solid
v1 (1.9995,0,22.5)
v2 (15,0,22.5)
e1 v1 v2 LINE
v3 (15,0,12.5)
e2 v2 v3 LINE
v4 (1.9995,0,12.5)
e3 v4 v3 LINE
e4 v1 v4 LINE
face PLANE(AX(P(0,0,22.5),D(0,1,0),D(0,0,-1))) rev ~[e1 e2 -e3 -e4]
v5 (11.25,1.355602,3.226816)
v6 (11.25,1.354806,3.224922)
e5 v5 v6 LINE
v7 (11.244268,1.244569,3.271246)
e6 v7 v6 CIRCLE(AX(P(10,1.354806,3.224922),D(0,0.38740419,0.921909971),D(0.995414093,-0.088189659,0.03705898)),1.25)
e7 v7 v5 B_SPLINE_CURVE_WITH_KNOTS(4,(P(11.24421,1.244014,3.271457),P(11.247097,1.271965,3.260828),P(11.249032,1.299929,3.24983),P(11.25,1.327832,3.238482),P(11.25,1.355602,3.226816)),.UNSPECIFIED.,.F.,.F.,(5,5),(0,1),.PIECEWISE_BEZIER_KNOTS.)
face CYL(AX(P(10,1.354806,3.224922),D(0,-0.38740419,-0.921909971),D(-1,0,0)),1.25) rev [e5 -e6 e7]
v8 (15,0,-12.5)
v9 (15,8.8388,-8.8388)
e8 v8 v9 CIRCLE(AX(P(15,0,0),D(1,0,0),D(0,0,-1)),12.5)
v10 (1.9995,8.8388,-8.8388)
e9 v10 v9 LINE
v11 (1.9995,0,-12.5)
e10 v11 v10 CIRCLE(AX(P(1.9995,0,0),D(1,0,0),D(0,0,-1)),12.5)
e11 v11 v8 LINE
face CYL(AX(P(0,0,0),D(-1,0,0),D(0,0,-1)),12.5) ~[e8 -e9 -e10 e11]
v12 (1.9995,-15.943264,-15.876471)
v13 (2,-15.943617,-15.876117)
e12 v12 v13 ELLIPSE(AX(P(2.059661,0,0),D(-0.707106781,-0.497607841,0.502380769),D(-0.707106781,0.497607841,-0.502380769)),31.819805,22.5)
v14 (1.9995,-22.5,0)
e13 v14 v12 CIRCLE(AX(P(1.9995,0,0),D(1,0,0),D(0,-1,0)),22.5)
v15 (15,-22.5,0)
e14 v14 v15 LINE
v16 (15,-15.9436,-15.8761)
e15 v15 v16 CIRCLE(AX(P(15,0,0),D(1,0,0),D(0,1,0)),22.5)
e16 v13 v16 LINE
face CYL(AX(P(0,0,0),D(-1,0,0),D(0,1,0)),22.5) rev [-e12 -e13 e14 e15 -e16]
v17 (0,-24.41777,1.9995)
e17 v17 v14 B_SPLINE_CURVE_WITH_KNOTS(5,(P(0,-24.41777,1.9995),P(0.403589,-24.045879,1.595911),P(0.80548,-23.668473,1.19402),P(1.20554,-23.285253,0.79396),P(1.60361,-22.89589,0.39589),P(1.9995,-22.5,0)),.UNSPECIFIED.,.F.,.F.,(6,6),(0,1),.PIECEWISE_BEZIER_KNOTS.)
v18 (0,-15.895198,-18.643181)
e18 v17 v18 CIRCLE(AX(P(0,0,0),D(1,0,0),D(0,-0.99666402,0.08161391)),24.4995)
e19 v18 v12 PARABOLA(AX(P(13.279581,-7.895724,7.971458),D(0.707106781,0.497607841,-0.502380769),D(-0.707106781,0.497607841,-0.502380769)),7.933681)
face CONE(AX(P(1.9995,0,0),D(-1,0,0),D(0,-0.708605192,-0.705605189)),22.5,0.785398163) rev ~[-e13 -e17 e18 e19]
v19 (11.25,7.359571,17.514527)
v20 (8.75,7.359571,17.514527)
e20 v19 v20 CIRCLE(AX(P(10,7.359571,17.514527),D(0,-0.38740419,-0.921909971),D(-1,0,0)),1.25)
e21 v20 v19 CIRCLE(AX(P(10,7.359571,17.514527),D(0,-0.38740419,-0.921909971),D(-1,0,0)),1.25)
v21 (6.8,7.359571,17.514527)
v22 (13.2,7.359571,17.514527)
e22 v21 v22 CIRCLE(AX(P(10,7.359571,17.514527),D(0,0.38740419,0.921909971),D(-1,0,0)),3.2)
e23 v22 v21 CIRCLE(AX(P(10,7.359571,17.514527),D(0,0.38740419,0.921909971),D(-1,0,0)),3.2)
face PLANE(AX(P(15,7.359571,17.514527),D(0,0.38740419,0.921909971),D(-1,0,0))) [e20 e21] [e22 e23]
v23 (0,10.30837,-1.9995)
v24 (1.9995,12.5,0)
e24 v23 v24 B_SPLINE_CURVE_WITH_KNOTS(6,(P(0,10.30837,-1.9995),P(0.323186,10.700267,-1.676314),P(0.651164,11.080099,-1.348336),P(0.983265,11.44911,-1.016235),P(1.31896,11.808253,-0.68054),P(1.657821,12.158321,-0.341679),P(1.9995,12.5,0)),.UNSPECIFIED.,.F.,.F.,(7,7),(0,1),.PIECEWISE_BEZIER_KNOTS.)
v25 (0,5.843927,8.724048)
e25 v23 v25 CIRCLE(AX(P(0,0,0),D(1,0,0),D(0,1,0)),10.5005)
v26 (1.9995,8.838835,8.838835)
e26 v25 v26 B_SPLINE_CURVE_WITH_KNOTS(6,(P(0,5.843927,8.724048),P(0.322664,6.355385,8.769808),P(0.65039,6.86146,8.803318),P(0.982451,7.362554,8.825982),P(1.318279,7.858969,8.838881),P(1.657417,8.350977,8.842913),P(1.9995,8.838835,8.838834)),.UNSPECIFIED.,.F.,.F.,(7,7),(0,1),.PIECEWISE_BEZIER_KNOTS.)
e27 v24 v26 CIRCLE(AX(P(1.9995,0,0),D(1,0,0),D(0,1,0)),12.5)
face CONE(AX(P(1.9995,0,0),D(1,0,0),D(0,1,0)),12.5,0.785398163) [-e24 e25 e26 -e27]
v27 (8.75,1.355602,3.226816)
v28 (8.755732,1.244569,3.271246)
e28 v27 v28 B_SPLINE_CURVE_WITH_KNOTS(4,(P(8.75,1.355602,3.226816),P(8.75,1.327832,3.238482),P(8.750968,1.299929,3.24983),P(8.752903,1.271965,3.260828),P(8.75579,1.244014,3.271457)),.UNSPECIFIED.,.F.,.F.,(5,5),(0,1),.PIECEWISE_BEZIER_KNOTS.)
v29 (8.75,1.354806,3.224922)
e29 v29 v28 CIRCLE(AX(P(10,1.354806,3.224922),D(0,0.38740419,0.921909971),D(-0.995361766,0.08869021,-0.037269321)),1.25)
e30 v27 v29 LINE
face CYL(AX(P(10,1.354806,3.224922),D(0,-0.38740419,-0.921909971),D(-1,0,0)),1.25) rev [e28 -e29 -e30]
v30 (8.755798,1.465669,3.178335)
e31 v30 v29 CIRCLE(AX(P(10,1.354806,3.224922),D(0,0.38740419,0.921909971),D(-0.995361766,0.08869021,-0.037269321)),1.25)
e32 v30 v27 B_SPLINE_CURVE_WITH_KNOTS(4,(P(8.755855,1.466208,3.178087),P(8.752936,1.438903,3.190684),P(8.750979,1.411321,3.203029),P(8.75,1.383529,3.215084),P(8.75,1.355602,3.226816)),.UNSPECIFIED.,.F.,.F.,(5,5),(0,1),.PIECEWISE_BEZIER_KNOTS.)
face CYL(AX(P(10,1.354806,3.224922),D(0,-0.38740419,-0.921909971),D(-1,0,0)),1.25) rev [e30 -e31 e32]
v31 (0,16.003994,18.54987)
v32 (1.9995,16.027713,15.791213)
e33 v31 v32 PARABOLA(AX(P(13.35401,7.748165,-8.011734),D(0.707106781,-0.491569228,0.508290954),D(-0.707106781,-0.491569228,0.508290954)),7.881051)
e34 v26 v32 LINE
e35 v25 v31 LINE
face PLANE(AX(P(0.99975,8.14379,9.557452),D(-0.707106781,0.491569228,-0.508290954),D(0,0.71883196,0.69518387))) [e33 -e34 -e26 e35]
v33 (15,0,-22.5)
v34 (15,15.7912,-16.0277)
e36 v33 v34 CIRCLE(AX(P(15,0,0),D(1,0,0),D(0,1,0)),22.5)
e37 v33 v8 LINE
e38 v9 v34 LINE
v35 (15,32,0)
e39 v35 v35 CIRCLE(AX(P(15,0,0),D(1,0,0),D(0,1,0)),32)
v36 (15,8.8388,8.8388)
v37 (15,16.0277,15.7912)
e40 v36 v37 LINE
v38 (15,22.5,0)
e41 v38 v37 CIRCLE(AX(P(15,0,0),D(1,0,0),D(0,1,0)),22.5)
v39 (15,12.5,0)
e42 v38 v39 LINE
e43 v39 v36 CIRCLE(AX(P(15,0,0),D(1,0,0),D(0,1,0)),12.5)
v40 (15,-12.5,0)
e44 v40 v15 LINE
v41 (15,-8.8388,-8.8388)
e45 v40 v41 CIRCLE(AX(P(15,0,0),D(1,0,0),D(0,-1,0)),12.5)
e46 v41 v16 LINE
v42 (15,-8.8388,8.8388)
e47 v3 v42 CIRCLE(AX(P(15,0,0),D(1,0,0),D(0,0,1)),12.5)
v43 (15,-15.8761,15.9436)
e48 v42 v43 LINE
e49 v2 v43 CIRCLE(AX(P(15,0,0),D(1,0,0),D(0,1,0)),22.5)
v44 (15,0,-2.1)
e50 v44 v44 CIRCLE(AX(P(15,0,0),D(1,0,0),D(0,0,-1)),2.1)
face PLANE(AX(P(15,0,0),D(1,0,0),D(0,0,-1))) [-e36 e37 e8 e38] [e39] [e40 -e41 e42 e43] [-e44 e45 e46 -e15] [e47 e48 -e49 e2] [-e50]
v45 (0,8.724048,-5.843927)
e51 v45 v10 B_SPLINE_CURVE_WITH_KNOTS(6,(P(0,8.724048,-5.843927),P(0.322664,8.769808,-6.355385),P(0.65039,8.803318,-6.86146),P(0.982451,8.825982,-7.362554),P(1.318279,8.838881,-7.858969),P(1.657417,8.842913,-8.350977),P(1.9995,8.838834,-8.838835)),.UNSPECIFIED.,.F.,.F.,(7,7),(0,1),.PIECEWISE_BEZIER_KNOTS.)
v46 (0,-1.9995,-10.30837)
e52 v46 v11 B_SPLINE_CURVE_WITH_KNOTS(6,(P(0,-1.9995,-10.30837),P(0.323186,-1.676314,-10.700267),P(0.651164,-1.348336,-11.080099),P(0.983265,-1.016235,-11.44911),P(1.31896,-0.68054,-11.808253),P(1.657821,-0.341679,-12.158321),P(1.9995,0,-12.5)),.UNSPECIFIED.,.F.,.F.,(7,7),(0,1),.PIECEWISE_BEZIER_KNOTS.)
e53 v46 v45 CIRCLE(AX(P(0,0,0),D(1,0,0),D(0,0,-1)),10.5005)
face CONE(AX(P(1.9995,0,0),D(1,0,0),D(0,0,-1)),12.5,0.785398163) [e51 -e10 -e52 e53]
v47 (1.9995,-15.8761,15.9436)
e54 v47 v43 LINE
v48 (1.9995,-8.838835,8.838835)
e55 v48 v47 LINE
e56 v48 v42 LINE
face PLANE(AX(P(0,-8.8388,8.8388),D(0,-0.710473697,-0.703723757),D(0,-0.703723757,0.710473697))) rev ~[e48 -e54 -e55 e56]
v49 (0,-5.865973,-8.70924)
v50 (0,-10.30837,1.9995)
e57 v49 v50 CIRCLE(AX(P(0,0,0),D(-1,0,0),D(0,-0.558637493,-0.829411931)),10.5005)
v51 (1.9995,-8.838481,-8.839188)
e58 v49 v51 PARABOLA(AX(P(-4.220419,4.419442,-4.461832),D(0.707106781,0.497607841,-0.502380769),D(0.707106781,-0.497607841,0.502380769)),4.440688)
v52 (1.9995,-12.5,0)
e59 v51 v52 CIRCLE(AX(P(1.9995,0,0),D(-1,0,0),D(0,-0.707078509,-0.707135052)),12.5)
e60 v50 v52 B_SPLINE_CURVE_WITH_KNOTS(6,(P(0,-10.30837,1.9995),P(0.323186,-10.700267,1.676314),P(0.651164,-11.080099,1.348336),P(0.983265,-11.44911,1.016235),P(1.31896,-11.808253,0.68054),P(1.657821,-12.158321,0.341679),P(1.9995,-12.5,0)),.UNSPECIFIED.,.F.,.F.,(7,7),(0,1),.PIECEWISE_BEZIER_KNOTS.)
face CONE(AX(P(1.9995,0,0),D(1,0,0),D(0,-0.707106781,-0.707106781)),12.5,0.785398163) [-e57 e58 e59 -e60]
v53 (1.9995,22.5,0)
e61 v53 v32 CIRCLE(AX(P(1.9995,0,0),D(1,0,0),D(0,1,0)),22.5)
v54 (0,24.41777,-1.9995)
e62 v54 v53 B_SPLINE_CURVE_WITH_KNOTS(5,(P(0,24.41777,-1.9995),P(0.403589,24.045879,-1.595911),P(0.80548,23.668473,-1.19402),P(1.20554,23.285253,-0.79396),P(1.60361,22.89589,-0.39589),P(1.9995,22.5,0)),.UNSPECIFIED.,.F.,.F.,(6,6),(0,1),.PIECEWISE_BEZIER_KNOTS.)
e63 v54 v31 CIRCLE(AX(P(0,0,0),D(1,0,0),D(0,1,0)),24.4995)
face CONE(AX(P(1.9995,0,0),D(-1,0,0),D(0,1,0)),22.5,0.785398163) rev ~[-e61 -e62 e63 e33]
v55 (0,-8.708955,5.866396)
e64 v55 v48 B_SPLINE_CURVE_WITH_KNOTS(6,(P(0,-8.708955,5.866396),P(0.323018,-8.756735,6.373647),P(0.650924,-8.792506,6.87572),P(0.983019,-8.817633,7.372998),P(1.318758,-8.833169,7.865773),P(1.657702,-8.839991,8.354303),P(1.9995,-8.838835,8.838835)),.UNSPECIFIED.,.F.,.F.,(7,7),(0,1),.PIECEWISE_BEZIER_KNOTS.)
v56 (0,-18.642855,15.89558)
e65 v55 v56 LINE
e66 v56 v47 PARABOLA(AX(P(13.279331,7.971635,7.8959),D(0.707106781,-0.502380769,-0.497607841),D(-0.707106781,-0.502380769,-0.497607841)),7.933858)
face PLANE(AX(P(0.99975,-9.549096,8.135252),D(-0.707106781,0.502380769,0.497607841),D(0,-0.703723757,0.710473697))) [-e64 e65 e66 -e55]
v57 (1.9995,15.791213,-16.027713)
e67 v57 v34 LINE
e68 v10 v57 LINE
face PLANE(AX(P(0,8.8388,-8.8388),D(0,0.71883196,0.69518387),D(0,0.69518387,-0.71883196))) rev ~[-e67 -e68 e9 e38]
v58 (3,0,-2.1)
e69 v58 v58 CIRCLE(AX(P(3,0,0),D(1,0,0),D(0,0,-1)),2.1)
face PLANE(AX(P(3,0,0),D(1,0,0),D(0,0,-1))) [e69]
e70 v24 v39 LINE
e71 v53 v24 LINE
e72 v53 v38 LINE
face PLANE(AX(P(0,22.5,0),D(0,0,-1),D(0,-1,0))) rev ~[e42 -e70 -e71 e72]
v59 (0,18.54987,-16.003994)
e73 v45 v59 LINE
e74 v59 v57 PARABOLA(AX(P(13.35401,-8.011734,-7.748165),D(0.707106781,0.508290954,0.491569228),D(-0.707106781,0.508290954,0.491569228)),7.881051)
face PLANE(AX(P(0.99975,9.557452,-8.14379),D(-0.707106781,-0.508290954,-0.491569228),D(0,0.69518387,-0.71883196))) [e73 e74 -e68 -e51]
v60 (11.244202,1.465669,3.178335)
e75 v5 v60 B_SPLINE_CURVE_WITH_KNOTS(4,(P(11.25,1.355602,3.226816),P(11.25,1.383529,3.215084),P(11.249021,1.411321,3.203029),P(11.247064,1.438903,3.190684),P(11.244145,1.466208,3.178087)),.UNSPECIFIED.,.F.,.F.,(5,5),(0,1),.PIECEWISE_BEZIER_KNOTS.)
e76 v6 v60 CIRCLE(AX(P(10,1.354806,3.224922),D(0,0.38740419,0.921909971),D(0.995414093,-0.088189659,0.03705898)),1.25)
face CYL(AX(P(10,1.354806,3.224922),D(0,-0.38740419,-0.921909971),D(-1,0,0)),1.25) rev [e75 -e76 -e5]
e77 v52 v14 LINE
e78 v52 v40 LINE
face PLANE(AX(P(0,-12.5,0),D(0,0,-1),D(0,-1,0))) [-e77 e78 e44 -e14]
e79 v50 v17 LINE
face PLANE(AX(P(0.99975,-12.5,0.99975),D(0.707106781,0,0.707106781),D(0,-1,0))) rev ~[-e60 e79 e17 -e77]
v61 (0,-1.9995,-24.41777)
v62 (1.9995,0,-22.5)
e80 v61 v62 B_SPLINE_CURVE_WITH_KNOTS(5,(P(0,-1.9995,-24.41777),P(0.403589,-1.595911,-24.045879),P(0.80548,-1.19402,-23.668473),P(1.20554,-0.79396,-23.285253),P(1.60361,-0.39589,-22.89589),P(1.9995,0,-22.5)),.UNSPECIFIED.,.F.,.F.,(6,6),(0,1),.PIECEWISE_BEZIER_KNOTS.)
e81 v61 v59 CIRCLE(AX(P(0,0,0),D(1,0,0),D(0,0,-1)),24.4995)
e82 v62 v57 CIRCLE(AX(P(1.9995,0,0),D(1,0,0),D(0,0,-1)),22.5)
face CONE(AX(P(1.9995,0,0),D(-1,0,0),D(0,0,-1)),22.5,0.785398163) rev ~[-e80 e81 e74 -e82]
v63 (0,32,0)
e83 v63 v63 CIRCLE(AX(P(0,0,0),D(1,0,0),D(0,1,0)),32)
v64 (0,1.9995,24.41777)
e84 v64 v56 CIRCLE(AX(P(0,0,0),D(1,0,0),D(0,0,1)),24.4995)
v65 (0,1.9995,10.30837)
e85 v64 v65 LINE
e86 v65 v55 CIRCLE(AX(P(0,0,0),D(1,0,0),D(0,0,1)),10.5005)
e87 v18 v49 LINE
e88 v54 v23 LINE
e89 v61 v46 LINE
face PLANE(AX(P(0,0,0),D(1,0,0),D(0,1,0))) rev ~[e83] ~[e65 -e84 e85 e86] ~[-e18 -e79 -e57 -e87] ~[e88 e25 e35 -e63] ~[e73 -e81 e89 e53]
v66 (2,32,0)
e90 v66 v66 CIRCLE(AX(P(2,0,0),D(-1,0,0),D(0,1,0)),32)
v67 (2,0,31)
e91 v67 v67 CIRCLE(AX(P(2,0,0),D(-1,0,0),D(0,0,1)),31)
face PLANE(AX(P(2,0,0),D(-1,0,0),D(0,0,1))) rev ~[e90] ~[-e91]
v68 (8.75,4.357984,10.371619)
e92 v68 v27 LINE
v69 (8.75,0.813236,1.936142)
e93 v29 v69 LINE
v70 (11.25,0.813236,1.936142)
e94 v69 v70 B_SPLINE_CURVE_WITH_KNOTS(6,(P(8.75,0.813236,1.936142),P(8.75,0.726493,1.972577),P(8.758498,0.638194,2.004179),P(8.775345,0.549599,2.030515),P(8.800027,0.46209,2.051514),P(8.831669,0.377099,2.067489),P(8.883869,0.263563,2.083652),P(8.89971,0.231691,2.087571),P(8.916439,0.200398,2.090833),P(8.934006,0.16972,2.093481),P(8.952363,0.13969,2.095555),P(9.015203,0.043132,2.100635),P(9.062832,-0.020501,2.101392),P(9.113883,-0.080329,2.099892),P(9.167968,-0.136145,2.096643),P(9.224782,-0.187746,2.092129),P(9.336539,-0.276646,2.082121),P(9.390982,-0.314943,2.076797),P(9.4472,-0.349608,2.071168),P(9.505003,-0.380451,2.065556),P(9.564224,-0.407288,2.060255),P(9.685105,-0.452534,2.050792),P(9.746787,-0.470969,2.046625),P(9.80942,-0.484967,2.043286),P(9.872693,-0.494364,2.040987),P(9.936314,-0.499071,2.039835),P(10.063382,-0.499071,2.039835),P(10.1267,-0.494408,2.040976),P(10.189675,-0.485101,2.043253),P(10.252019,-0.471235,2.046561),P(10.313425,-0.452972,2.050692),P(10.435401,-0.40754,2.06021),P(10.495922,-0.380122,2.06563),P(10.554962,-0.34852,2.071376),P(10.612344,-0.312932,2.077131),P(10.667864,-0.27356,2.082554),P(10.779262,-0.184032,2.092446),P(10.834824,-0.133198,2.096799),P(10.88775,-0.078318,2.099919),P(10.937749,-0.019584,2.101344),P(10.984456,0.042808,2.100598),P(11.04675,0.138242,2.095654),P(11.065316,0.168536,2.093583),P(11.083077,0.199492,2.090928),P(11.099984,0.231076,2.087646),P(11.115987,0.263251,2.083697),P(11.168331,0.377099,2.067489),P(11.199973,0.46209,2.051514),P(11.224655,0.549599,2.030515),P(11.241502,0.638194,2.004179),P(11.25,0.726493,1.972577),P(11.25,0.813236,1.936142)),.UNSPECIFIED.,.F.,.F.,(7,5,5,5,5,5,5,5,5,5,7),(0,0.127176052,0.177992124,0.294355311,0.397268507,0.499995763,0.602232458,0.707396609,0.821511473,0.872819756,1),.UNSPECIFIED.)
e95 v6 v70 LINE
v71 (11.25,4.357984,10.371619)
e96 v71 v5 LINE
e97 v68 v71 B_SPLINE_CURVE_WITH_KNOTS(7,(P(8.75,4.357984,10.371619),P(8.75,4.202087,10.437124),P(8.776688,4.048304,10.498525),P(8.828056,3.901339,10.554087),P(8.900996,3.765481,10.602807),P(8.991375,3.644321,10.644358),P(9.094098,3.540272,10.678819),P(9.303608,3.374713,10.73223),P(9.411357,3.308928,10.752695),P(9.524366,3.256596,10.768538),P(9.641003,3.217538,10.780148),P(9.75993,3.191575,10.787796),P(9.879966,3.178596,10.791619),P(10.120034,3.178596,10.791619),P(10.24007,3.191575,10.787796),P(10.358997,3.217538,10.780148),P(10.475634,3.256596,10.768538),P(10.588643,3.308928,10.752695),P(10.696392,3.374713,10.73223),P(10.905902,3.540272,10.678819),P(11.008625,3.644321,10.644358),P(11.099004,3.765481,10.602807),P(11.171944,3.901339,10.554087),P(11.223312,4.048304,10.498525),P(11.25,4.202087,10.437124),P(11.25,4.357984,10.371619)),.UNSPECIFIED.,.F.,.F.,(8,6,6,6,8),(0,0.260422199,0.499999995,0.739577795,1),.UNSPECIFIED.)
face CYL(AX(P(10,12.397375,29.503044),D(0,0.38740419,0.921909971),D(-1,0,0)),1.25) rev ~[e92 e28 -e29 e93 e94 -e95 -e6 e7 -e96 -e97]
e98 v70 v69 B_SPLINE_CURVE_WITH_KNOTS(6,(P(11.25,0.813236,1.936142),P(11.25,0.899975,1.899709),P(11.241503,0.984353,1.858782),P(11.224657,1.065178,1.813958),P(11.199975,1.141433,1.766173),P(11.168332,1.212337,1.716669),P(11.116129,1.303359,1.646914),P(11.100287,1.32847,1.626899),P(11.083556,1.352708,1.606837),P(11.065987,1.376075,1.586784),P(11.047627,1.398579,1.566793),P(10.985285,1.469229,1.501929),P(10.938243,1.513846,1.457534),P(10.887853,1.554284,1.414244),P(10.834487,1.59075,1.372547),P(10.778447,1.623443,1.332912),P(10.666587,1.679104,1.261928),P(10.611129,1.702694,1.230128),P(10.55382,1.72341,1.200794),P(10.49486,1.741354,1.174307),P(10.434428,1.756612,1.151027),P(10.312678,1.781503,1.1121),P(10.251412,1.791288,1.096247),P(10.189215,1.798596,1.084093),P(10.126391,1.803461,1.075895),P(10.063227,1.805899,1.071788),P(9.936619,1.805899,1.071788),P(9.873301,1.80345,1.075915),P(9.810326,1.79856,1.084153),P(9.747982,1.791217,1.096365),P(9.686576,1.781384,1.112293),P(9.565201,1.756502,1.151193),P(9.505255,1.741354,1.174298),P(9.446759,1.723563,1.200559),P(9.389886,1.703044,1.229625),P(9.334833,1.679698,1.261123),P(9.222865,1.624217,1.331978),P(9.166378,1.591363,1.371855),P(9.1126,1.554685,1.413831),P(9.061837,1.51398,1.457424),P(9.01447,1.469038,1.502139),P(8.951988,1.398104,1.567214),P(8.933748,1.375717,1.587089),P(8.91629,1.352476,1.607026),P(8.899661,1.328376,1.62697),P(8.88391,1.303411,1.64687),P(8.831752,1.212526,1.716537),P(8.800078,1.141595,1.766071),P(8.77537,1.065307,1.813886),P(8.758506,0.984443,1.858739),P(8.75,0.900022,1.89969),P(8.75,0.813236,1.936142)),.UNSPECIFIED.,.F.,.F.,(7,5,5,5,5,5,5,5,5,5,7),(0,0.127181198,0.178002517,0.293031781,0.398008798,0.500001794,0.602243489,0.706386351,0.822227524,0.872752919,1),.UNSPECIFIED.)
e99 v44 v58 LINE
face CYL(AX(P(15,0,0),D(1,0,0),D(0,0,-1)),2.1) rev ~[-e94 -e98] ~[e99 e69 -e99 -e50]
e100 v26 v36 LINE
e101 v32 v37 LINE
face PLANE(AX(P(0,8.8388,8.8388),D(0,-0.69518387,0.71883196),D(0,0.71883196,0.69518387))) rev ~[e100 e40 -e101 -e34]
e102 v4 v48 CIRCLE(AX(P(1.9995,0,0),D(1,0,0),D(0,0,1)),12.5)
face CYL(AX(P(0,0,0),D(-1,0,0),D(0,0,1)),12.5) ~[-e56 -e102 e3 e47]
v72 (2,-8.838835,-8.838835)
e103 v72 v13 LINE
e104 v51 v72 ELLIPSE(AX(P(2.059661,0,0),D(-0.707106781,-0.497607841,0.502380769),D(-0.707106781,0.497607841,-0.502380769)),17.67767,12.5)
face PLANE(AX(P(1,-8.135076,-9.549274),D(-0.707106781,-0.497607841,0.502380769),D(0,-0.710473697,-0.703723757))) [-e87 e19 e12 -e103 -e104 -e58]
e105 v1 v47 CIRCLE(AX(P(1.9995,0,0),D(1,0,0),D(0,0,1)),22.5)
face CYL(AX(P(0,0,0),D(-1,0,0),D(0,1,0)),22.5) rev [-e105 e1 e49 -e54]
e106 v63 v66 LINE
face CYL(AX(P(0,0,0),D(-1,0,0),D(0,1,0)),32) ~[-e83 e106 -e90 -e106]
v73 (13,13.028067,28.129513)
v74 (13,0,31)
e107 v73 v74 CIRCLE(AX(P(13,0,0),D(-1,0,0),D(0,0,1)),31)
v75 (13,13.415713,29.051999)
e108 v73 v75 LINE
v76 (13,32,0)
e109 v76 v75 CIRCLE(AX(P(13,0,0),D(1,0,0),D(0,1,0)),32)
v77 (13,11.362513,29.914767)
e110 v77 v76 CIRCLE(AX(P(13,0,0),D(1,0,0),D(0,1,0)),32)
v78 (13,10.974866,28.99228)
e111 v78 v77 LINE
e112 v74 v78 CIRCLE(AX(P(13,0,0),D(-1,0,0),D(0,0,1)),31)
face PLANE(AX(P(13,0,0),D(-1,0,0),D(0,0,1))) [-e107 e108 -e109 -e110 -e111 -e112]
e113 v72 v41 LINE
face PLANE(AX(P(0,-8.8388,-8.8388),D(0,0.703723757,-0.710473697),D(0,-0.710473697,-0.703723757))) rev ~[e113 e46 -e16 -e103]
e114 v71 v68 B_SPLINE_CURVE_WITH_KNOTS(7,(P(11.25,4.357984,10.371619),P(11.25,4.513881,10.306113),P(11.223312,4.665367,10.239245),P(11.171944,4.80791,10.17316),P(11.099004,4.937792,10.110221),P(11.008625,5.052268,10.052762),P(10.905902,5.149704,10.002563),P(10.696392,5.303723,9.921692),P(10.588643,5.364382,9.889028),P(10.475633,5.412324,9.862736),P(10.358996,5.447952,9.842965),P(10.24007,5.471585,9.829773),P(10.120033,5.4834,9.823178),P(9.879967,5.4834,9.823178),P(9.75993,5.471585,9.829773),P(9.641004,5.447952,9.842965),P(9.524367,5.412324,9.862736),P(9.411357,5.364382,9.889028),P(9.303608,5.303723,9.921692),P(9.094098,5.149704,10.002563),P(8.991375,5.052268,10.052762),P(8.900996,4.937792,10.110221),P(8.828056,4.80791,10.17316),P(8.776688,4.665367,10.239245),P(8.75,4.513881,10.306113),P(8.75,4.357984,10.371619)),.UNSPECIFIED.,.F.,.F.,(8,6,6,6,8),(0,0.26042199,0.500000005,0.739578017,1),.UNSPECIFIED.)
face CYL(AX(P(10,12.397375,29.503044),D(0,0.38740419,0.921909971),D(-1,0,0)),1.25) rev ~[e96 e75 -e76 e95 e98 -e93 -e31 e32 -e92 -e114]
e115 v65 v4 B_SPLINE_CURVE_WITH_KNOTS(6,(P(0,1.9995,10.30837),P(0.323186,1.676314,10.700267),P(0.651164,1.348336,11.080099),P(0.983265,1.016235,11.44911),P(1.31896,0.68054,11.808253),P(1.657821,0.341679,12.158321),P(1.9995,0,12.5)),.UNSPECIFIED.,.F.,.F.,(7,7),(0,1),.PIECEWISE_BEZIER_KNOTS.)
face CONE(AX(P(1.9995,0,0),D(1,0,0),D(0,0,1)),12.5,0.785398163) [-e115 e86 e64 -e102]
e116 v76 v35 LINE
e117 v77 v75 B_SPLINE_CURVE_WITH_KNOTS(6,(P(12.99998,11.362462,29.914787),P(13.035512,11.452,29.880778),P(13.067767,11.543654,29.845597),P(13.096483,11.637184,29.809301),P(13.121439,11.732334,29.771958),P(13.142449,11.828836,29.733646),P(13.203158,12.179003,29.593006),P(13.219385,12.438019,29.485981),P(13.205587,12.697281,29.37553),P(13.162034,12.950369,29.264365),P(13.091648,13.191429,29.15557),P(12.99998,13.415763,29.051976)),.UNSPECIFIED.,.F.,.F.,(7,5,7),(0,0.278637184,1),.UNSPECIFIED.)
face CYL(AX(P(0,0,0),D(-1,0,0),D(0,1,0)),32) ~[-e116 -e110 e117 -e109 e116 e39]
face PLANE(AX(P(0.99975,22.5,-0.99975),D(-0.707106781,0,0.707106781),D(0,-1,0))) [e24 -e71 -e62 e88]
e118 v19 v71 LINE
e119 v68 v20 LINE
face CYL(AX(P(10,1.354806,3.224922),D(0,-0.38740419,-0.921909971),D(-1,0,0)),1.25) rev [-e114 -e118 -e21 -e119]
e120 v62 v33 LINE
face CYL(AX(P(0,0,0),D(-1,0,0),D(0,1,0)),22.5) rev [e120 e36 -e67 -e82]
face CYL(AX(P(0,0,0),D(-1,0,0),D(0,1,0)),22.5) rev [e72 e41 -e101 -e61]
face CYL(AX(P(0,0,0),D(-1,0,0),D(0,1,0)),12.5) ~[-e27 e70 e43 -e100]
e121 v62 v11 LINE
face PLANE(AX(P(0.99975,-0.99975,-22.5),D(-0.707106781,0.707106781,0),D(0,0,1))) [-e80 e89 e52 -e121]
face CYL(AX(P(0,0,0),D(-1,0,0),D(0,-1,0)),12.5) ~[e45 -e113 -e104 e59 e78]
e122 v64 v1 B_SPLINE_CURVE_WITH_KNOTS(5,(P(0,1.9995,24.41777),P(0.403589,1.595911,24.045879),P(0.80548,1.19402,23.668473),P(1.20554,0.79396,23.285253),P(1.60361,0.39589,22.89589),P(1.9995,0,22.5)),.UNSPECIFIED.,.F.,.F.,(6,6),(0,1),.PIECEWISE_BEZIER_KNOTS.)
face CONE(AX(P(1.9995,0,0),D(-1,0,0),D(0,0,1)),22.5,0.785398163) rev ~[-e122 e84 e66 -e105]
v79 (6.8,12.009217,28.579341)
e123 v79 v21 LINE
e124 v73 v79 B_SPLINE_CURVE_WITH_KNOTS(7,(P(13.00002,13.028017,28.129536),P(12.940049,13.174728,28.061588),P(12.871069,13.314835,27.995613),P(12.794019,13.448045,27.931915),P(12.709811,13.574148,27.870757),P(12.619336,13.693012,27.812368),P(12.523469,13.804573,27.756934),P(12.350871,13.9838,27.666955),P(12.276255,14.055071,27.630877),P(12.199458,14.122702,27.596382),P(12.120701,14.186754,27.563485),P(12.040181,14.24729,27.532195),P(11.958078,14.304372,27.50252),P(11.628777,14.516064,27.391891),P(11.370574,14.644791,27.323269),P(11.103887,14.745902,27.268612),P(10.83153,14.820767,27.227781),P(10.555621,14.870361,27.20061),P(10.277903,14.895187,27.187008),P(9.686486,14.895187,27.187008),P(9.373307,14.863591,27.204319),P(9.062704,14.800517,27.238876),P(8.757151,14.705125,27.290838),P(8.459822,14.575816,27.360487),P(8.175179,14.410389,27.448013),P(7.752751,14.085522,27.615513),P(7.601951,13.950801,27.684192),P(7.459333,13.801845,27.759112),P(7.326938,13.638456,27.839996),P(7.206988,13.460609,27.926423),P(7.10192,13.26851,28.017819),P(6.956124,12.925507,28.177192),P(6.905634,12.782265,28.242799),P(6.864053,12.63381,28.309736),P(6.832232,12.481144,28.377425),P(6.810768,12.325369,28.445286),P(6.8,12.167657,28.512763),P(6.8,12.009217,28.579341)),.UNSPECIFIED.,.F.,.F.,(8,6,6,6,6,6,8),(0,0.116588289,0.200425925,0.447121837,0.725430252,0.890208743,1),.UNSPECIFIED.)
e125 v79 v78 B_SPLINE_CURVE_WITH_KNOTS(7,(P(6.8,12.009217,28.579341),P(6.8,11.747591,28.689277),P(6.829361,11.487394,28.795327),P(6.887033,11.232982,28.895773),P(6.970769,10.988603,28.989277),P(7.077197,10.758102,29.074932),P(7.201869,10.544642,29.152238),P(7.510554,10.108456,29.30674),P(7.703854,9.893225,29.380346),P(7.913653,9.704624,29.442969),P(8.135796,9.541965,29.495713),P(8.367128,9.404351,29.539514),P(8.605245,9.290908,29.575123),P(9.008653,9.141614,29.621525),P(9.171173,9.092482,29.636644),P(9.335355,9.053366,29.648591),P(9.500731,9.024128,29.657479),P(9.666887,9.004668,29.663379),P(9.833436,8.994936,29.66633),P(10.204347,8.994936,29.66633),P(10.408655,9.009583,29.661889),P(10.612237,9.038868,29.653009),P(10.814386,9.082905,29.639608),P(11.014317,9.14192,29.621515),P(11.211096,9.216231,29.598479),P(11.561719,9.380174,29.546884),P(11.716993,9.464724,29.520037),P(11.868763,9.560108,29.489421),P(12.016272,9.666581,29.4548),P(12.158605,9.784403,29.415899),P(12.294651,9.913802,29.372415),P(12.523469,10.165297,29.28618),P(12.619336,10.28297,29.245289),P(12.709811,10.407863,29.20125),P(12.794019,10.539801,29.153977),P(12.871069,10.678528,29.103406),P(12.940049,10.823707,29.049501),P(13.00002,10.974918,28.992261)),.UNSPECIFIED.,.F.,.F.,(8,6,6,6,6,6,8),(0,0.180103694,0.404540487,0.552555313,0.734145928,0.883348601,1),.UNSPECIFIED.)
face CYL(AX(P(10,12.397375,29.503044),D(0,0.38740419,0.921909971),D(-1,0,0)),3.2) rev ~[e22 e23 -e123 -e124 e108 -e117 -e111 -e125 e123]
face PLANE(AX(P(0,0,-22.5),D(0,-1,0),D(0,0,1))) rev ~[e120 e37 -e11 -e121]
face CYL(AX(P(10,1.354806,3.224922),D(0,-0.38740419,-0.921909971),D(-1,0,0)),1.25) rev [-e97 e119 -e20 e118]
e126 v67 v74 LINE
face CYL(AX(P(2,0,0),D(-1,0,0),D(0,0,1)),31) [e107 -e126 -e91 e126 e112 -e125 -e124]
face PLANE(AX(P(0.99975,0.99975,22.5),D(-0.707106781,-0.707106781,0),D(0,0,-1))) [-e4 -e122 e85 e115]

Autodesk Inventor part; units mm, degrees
ref_plane "XZ Plane" through (0, 0, 0) normal (0, 1, 0) x (-1, 0, 0)
ref_plane "XY Plane" through (0, 0, 0) normal (0, 0, 1) x (1, 0, 0)
sketch "Эскиз1" plane through (0, 0, 0) normal (1, 0, 0) x (0, 1, 0)
  circle A0 centre (0, 0) radius 33
  circle A1 centre (0, 0) radius 27.5
  line L0 (27.5, 0) -> (12.5, 0)
  line L1 (0, 27.5) -> (0, 12.5)
  arc A2 (0, -12.5) -> (12.5, 0) centre (0, 0) ccw
  arc A3 (-12.5, 0) -> (0, -12.5) centre (0, 0) ccw
  arc A4 (0, 12.5) -> (-12.5, 0) centre (0, 0) ccw
  arc A5 (12.5, 0) -> (0, 12.5) centre (0, 0) ccw
  line L2 (27.5, 0) -> (22.5, 0)
  line L3 (0, -27.5) -> (0, -22.5)
  line L4 (27.5, 0) -> (22.5, 0)
  line L5 (0, 27.5) -> (0, 22.5)
  line L6 (-27.5, 0) -> (-22.5, 0)
  circle A6 centre (0, 0) radius 22.5
  line L7 (-8.8388, -8.8388) -> (-15.9436, -15.8761)
  line L8 (-12.5, 0) -> (-22.5, 0)
  line L9 (-8.8388, 8.8388) -> (-15.8761, 15.9436)
  line L10 (8.8388, 8.8388) -> (16.0277, 15.7912)
  line L11 (12.5, 0) -> (22.5, 0)
  line L12 (0, 12.5) -> (0, 22.5)
  line L13 (8.8388, -8.8388) -> (15.7912, -16.0277)
  line L14 (0, -22.5) -> (0, -12.5)
  circle A7 centre (0, 0) radius 27.5
  circle A8 centre (0, 0) radius 32
  point P0 (-27.5, 0)
  point P1 (0, 22.5)
  point P2 (0, 22.5)
  point P3 (-22.5, 0)
  point P4 (-22.5, 0)
  dimension "d2" = 15
  dimension "d3" = 15
  dimension "d4" = 15
  dimension "d5" = 15
  dimension "d21" = 5
  dimension "d22" = 5
  dimension "d25" = 360
  dimension "d67" = 64
extrude "Выдавливание1" add sketch "Эскиз1" along normal blind 15 contours L0 A6 L1 A1 | A1 L3 A6 L0 | L1 A6 L6 A1 | A1 L6 A6 L3 | A6 L13 A2 L0 | L0 A5 L10 A6 | A6 L10 A5 L1 | L1 A4 L9 A6 | L14 A2 L13 A6 | A6 L7 A3 L14 | A2 A3 A4 A5 | L8 A3 L7 A6 | A6 L9 A4 L8 | A8
sketch "Эскиз5" plane through (15, 0, 0) normal (1, 0, 0) x (0, 0, -1)
  point P0 (0, 0)
extrude "Выдавливание3" cut sketch "Эскиз1" along normal blind 15 contours L0 A5 L10 A6 | L1 A4 L9 A6 | L14 A2 L13 A6 | L8 A3 L7 A6
sketch "Эскиз6" plane through (15, 0, 0) normal (1, 0, 0) x (0, 0, -1)
  circle A0 centre (0, 0) radius 11.25
  arc A1 (0, 12.5) -> (-8.8388, 8.8388) centre (0, 0) ccw projected
  arc A2 (0, 12.5) -> (-8.8388, 8.8388) centre (0, 0) ccw
  line L0 (0, 0) -> (-3.0615, 7.391) construction
  circle A3 centre (-3.0615, 7.391) radius 1.5
  circle A4 centre (-7.391, -3.0615) radius 1.5
  circle A5 centre (3.0615, -7.391) radius 1.5
  circle A6 centre (7.391, 3.0615) radius 1.5
  arc A7 (-3.0615, 7.391) -> (-7.391, -3.0615) centre (0, 0) ccw
  line L1 (-8.8388, 8.8388) -> (-22.3952, 22.8573) construction
  circle A8 centre (0, 0) radius 32 construction
  line L2 (-8.8388, 8.8388) -> (10.6622, 8.8388) construction
  arc A9 (-22.3952, 22.8573) -> (-32, 0) centre (0, 0) ccw construction
  line L3 (-29.5012, 12.3966) -> (-7.391, 3.0615)
  dimension "d31" = 22.5
  dimension "d72" = 8
  dimension "d74" = 3
  dimension "d77" = 360
  dimension "d79" = 134.04
extrude "Выдавливание4" [suppressed]
extrude "Выдавливание5" cut sketch "Эскиз6" against normal blind 12 contours A3 | A4 | A0 | A5 | A6
extrude "Выдавливание6" [suppressed]
chamfer "Фаска2" distance 2 angle 45 1 edges at (0, -12.3912, -12.3575)
chamfer "Фаска3" distance 2 angle 45 15 edges at (0, -20.7964, -8.5883) (0, -17.5, 0) (0, -11.5485, -4.7835) (0, 0, -17.5) (0, 8.5331, -20.8191) (0, 12.315, -12.4333) (0, 4.7835, -11.5485) (0, 17.5, 0) (0, 11.5485, 4.7835) (0, 20.8191, 8.5331) (0, 12.4333, 12.315) (0, 0, 17.5) (0, -4.7835, 11.5485) (0, -12.3575, 12.3912) (0, -8.5883, 20.7964)
ref_plane "РабПлоскость3" through (2, 0, 0) normal (1, 0, 0) x (0, 1, 0)
sketch "Эскиз10" plane through (2, 0, 0) normal (1, 0, 0) x (0, 1, 0)
  circle A0 centre (0, 0) radius 26.5
  circle A1 centre (0, 0) radius 27.5 projected
  circle A2 centre (0, 0) radius 26.5
  dimension "d66" = 53
sketch "Эскиз11" plane through (0, 0, 0) normal (-1, 0, 0) x (0, 0, 1)
  circle A0 centre (0, 0) radius 31
  circle A1 centre (0, 0) radius 32
  dimension "d68" = 62
extrude "Выдавливание9" cut sketch "Эскиз11" against normal blind 11 from surface at -2
sketch "Эскиз12" plane through (15, 0, 0) normal (1, 0, 0) x (0, 0, -1)
  circle A0 centre (0, 0) radius 32 projected
  arc A1 (0, 12.5) -> (-8.8388, 8.8388) centre (0, 0) ccw projected
  line L0 (-8.8388, 8.8388) -> (-22.3952, 22.8573)
  circle A2 centre (0, 0) radius 32 projected
  line L1 (-8.8388, 8.8388) -> (10.6622, 8.8388) construction
  point P0 (0, 0)
  point P1 (-32, 0)
  dimension "d85" = 134.04
ref_plane "РабПлоскость4" through (15, 12.3966, 29.5012) normal (0, 0.3874, 0.9219) x (-1, 0, 0)
sketch "Эскиз14" plane through (15, 12.3966, 29.5012) normal (0, 0.3874, 0.9219) x (-1, 0, 0)
  line L0 (0, -11.25) -> (0, 11.25) projected
  line L1 (0, 0) -> (5, 0)
  circle A0 centre (5, 0) radius 3.2
  circle A1 centre (5, 0) radius 1.25
  point P0 (15, 0)
  point P1 (8, 0)
  dimension "d95" = 5
  dimension "d96" = 6.4
  dimension "d99" = 2.5
extrude "Выдавливание11" [suppressed]
sketch "Эскиз15" plane through (3, 0, 0) normal (1, 0, 0) x (0, 0, -1)
  circle A0 centre (0, 0) radius 2
  dimension "d90" = 4
sketch "Эскиз16" plane through (3, 0, 0) normal (1, 0, 0) x (0, 0, -1)
  circle A0 centre (0, 0) radius 3.5
  circle A1 centre (0, 0) radius 2
  dimension "d91" = 7
  dimension "d92" = 4
extrude "Выдавливание12" add sketch "Эскиз16" along normal blind 12
ref_plane "РабПлоскость6" through (15, 1.3559, 3.2267) normal (0, 0.3874, 0.9219) x (-1, 0, 0)
extrude "Выдавливание14" cut sketch "Эскиз14" along normal blind 16 from surface at -28.5 contours A1
sketch "Эскиз18" plane through (15, 0, 0) normal (1, 0, 0) x (0, 0, -1)
  circle A0 centre (0, 0) radius 3.5 projected
  circle A1 centre (0, 0) radius 3.5
  circle A2 centre (0, 0) radius 11.25
extrude "Выдавливание15" add sketch "Эскиз18" against normal blind 12
sketch "Эскиз19" plane through (15, 0, 0) normal (1, 0, 0) x (0, 0, -1)
  circle A0 centre (0, 0) radius 2.1
  dimension "d108" = 4.2
extrude "Выдавливание17" cut sketch "Эскиз19" against normal blind 12
extrude "Выдавливание18" cut sketch "Эскиз14" against normal blind 13 contours A1 | A0
extrude "Выдавливание19" cut sketch "Эскиз14" against normal blind 31 contours A1
properties part number "колеса прототип"
